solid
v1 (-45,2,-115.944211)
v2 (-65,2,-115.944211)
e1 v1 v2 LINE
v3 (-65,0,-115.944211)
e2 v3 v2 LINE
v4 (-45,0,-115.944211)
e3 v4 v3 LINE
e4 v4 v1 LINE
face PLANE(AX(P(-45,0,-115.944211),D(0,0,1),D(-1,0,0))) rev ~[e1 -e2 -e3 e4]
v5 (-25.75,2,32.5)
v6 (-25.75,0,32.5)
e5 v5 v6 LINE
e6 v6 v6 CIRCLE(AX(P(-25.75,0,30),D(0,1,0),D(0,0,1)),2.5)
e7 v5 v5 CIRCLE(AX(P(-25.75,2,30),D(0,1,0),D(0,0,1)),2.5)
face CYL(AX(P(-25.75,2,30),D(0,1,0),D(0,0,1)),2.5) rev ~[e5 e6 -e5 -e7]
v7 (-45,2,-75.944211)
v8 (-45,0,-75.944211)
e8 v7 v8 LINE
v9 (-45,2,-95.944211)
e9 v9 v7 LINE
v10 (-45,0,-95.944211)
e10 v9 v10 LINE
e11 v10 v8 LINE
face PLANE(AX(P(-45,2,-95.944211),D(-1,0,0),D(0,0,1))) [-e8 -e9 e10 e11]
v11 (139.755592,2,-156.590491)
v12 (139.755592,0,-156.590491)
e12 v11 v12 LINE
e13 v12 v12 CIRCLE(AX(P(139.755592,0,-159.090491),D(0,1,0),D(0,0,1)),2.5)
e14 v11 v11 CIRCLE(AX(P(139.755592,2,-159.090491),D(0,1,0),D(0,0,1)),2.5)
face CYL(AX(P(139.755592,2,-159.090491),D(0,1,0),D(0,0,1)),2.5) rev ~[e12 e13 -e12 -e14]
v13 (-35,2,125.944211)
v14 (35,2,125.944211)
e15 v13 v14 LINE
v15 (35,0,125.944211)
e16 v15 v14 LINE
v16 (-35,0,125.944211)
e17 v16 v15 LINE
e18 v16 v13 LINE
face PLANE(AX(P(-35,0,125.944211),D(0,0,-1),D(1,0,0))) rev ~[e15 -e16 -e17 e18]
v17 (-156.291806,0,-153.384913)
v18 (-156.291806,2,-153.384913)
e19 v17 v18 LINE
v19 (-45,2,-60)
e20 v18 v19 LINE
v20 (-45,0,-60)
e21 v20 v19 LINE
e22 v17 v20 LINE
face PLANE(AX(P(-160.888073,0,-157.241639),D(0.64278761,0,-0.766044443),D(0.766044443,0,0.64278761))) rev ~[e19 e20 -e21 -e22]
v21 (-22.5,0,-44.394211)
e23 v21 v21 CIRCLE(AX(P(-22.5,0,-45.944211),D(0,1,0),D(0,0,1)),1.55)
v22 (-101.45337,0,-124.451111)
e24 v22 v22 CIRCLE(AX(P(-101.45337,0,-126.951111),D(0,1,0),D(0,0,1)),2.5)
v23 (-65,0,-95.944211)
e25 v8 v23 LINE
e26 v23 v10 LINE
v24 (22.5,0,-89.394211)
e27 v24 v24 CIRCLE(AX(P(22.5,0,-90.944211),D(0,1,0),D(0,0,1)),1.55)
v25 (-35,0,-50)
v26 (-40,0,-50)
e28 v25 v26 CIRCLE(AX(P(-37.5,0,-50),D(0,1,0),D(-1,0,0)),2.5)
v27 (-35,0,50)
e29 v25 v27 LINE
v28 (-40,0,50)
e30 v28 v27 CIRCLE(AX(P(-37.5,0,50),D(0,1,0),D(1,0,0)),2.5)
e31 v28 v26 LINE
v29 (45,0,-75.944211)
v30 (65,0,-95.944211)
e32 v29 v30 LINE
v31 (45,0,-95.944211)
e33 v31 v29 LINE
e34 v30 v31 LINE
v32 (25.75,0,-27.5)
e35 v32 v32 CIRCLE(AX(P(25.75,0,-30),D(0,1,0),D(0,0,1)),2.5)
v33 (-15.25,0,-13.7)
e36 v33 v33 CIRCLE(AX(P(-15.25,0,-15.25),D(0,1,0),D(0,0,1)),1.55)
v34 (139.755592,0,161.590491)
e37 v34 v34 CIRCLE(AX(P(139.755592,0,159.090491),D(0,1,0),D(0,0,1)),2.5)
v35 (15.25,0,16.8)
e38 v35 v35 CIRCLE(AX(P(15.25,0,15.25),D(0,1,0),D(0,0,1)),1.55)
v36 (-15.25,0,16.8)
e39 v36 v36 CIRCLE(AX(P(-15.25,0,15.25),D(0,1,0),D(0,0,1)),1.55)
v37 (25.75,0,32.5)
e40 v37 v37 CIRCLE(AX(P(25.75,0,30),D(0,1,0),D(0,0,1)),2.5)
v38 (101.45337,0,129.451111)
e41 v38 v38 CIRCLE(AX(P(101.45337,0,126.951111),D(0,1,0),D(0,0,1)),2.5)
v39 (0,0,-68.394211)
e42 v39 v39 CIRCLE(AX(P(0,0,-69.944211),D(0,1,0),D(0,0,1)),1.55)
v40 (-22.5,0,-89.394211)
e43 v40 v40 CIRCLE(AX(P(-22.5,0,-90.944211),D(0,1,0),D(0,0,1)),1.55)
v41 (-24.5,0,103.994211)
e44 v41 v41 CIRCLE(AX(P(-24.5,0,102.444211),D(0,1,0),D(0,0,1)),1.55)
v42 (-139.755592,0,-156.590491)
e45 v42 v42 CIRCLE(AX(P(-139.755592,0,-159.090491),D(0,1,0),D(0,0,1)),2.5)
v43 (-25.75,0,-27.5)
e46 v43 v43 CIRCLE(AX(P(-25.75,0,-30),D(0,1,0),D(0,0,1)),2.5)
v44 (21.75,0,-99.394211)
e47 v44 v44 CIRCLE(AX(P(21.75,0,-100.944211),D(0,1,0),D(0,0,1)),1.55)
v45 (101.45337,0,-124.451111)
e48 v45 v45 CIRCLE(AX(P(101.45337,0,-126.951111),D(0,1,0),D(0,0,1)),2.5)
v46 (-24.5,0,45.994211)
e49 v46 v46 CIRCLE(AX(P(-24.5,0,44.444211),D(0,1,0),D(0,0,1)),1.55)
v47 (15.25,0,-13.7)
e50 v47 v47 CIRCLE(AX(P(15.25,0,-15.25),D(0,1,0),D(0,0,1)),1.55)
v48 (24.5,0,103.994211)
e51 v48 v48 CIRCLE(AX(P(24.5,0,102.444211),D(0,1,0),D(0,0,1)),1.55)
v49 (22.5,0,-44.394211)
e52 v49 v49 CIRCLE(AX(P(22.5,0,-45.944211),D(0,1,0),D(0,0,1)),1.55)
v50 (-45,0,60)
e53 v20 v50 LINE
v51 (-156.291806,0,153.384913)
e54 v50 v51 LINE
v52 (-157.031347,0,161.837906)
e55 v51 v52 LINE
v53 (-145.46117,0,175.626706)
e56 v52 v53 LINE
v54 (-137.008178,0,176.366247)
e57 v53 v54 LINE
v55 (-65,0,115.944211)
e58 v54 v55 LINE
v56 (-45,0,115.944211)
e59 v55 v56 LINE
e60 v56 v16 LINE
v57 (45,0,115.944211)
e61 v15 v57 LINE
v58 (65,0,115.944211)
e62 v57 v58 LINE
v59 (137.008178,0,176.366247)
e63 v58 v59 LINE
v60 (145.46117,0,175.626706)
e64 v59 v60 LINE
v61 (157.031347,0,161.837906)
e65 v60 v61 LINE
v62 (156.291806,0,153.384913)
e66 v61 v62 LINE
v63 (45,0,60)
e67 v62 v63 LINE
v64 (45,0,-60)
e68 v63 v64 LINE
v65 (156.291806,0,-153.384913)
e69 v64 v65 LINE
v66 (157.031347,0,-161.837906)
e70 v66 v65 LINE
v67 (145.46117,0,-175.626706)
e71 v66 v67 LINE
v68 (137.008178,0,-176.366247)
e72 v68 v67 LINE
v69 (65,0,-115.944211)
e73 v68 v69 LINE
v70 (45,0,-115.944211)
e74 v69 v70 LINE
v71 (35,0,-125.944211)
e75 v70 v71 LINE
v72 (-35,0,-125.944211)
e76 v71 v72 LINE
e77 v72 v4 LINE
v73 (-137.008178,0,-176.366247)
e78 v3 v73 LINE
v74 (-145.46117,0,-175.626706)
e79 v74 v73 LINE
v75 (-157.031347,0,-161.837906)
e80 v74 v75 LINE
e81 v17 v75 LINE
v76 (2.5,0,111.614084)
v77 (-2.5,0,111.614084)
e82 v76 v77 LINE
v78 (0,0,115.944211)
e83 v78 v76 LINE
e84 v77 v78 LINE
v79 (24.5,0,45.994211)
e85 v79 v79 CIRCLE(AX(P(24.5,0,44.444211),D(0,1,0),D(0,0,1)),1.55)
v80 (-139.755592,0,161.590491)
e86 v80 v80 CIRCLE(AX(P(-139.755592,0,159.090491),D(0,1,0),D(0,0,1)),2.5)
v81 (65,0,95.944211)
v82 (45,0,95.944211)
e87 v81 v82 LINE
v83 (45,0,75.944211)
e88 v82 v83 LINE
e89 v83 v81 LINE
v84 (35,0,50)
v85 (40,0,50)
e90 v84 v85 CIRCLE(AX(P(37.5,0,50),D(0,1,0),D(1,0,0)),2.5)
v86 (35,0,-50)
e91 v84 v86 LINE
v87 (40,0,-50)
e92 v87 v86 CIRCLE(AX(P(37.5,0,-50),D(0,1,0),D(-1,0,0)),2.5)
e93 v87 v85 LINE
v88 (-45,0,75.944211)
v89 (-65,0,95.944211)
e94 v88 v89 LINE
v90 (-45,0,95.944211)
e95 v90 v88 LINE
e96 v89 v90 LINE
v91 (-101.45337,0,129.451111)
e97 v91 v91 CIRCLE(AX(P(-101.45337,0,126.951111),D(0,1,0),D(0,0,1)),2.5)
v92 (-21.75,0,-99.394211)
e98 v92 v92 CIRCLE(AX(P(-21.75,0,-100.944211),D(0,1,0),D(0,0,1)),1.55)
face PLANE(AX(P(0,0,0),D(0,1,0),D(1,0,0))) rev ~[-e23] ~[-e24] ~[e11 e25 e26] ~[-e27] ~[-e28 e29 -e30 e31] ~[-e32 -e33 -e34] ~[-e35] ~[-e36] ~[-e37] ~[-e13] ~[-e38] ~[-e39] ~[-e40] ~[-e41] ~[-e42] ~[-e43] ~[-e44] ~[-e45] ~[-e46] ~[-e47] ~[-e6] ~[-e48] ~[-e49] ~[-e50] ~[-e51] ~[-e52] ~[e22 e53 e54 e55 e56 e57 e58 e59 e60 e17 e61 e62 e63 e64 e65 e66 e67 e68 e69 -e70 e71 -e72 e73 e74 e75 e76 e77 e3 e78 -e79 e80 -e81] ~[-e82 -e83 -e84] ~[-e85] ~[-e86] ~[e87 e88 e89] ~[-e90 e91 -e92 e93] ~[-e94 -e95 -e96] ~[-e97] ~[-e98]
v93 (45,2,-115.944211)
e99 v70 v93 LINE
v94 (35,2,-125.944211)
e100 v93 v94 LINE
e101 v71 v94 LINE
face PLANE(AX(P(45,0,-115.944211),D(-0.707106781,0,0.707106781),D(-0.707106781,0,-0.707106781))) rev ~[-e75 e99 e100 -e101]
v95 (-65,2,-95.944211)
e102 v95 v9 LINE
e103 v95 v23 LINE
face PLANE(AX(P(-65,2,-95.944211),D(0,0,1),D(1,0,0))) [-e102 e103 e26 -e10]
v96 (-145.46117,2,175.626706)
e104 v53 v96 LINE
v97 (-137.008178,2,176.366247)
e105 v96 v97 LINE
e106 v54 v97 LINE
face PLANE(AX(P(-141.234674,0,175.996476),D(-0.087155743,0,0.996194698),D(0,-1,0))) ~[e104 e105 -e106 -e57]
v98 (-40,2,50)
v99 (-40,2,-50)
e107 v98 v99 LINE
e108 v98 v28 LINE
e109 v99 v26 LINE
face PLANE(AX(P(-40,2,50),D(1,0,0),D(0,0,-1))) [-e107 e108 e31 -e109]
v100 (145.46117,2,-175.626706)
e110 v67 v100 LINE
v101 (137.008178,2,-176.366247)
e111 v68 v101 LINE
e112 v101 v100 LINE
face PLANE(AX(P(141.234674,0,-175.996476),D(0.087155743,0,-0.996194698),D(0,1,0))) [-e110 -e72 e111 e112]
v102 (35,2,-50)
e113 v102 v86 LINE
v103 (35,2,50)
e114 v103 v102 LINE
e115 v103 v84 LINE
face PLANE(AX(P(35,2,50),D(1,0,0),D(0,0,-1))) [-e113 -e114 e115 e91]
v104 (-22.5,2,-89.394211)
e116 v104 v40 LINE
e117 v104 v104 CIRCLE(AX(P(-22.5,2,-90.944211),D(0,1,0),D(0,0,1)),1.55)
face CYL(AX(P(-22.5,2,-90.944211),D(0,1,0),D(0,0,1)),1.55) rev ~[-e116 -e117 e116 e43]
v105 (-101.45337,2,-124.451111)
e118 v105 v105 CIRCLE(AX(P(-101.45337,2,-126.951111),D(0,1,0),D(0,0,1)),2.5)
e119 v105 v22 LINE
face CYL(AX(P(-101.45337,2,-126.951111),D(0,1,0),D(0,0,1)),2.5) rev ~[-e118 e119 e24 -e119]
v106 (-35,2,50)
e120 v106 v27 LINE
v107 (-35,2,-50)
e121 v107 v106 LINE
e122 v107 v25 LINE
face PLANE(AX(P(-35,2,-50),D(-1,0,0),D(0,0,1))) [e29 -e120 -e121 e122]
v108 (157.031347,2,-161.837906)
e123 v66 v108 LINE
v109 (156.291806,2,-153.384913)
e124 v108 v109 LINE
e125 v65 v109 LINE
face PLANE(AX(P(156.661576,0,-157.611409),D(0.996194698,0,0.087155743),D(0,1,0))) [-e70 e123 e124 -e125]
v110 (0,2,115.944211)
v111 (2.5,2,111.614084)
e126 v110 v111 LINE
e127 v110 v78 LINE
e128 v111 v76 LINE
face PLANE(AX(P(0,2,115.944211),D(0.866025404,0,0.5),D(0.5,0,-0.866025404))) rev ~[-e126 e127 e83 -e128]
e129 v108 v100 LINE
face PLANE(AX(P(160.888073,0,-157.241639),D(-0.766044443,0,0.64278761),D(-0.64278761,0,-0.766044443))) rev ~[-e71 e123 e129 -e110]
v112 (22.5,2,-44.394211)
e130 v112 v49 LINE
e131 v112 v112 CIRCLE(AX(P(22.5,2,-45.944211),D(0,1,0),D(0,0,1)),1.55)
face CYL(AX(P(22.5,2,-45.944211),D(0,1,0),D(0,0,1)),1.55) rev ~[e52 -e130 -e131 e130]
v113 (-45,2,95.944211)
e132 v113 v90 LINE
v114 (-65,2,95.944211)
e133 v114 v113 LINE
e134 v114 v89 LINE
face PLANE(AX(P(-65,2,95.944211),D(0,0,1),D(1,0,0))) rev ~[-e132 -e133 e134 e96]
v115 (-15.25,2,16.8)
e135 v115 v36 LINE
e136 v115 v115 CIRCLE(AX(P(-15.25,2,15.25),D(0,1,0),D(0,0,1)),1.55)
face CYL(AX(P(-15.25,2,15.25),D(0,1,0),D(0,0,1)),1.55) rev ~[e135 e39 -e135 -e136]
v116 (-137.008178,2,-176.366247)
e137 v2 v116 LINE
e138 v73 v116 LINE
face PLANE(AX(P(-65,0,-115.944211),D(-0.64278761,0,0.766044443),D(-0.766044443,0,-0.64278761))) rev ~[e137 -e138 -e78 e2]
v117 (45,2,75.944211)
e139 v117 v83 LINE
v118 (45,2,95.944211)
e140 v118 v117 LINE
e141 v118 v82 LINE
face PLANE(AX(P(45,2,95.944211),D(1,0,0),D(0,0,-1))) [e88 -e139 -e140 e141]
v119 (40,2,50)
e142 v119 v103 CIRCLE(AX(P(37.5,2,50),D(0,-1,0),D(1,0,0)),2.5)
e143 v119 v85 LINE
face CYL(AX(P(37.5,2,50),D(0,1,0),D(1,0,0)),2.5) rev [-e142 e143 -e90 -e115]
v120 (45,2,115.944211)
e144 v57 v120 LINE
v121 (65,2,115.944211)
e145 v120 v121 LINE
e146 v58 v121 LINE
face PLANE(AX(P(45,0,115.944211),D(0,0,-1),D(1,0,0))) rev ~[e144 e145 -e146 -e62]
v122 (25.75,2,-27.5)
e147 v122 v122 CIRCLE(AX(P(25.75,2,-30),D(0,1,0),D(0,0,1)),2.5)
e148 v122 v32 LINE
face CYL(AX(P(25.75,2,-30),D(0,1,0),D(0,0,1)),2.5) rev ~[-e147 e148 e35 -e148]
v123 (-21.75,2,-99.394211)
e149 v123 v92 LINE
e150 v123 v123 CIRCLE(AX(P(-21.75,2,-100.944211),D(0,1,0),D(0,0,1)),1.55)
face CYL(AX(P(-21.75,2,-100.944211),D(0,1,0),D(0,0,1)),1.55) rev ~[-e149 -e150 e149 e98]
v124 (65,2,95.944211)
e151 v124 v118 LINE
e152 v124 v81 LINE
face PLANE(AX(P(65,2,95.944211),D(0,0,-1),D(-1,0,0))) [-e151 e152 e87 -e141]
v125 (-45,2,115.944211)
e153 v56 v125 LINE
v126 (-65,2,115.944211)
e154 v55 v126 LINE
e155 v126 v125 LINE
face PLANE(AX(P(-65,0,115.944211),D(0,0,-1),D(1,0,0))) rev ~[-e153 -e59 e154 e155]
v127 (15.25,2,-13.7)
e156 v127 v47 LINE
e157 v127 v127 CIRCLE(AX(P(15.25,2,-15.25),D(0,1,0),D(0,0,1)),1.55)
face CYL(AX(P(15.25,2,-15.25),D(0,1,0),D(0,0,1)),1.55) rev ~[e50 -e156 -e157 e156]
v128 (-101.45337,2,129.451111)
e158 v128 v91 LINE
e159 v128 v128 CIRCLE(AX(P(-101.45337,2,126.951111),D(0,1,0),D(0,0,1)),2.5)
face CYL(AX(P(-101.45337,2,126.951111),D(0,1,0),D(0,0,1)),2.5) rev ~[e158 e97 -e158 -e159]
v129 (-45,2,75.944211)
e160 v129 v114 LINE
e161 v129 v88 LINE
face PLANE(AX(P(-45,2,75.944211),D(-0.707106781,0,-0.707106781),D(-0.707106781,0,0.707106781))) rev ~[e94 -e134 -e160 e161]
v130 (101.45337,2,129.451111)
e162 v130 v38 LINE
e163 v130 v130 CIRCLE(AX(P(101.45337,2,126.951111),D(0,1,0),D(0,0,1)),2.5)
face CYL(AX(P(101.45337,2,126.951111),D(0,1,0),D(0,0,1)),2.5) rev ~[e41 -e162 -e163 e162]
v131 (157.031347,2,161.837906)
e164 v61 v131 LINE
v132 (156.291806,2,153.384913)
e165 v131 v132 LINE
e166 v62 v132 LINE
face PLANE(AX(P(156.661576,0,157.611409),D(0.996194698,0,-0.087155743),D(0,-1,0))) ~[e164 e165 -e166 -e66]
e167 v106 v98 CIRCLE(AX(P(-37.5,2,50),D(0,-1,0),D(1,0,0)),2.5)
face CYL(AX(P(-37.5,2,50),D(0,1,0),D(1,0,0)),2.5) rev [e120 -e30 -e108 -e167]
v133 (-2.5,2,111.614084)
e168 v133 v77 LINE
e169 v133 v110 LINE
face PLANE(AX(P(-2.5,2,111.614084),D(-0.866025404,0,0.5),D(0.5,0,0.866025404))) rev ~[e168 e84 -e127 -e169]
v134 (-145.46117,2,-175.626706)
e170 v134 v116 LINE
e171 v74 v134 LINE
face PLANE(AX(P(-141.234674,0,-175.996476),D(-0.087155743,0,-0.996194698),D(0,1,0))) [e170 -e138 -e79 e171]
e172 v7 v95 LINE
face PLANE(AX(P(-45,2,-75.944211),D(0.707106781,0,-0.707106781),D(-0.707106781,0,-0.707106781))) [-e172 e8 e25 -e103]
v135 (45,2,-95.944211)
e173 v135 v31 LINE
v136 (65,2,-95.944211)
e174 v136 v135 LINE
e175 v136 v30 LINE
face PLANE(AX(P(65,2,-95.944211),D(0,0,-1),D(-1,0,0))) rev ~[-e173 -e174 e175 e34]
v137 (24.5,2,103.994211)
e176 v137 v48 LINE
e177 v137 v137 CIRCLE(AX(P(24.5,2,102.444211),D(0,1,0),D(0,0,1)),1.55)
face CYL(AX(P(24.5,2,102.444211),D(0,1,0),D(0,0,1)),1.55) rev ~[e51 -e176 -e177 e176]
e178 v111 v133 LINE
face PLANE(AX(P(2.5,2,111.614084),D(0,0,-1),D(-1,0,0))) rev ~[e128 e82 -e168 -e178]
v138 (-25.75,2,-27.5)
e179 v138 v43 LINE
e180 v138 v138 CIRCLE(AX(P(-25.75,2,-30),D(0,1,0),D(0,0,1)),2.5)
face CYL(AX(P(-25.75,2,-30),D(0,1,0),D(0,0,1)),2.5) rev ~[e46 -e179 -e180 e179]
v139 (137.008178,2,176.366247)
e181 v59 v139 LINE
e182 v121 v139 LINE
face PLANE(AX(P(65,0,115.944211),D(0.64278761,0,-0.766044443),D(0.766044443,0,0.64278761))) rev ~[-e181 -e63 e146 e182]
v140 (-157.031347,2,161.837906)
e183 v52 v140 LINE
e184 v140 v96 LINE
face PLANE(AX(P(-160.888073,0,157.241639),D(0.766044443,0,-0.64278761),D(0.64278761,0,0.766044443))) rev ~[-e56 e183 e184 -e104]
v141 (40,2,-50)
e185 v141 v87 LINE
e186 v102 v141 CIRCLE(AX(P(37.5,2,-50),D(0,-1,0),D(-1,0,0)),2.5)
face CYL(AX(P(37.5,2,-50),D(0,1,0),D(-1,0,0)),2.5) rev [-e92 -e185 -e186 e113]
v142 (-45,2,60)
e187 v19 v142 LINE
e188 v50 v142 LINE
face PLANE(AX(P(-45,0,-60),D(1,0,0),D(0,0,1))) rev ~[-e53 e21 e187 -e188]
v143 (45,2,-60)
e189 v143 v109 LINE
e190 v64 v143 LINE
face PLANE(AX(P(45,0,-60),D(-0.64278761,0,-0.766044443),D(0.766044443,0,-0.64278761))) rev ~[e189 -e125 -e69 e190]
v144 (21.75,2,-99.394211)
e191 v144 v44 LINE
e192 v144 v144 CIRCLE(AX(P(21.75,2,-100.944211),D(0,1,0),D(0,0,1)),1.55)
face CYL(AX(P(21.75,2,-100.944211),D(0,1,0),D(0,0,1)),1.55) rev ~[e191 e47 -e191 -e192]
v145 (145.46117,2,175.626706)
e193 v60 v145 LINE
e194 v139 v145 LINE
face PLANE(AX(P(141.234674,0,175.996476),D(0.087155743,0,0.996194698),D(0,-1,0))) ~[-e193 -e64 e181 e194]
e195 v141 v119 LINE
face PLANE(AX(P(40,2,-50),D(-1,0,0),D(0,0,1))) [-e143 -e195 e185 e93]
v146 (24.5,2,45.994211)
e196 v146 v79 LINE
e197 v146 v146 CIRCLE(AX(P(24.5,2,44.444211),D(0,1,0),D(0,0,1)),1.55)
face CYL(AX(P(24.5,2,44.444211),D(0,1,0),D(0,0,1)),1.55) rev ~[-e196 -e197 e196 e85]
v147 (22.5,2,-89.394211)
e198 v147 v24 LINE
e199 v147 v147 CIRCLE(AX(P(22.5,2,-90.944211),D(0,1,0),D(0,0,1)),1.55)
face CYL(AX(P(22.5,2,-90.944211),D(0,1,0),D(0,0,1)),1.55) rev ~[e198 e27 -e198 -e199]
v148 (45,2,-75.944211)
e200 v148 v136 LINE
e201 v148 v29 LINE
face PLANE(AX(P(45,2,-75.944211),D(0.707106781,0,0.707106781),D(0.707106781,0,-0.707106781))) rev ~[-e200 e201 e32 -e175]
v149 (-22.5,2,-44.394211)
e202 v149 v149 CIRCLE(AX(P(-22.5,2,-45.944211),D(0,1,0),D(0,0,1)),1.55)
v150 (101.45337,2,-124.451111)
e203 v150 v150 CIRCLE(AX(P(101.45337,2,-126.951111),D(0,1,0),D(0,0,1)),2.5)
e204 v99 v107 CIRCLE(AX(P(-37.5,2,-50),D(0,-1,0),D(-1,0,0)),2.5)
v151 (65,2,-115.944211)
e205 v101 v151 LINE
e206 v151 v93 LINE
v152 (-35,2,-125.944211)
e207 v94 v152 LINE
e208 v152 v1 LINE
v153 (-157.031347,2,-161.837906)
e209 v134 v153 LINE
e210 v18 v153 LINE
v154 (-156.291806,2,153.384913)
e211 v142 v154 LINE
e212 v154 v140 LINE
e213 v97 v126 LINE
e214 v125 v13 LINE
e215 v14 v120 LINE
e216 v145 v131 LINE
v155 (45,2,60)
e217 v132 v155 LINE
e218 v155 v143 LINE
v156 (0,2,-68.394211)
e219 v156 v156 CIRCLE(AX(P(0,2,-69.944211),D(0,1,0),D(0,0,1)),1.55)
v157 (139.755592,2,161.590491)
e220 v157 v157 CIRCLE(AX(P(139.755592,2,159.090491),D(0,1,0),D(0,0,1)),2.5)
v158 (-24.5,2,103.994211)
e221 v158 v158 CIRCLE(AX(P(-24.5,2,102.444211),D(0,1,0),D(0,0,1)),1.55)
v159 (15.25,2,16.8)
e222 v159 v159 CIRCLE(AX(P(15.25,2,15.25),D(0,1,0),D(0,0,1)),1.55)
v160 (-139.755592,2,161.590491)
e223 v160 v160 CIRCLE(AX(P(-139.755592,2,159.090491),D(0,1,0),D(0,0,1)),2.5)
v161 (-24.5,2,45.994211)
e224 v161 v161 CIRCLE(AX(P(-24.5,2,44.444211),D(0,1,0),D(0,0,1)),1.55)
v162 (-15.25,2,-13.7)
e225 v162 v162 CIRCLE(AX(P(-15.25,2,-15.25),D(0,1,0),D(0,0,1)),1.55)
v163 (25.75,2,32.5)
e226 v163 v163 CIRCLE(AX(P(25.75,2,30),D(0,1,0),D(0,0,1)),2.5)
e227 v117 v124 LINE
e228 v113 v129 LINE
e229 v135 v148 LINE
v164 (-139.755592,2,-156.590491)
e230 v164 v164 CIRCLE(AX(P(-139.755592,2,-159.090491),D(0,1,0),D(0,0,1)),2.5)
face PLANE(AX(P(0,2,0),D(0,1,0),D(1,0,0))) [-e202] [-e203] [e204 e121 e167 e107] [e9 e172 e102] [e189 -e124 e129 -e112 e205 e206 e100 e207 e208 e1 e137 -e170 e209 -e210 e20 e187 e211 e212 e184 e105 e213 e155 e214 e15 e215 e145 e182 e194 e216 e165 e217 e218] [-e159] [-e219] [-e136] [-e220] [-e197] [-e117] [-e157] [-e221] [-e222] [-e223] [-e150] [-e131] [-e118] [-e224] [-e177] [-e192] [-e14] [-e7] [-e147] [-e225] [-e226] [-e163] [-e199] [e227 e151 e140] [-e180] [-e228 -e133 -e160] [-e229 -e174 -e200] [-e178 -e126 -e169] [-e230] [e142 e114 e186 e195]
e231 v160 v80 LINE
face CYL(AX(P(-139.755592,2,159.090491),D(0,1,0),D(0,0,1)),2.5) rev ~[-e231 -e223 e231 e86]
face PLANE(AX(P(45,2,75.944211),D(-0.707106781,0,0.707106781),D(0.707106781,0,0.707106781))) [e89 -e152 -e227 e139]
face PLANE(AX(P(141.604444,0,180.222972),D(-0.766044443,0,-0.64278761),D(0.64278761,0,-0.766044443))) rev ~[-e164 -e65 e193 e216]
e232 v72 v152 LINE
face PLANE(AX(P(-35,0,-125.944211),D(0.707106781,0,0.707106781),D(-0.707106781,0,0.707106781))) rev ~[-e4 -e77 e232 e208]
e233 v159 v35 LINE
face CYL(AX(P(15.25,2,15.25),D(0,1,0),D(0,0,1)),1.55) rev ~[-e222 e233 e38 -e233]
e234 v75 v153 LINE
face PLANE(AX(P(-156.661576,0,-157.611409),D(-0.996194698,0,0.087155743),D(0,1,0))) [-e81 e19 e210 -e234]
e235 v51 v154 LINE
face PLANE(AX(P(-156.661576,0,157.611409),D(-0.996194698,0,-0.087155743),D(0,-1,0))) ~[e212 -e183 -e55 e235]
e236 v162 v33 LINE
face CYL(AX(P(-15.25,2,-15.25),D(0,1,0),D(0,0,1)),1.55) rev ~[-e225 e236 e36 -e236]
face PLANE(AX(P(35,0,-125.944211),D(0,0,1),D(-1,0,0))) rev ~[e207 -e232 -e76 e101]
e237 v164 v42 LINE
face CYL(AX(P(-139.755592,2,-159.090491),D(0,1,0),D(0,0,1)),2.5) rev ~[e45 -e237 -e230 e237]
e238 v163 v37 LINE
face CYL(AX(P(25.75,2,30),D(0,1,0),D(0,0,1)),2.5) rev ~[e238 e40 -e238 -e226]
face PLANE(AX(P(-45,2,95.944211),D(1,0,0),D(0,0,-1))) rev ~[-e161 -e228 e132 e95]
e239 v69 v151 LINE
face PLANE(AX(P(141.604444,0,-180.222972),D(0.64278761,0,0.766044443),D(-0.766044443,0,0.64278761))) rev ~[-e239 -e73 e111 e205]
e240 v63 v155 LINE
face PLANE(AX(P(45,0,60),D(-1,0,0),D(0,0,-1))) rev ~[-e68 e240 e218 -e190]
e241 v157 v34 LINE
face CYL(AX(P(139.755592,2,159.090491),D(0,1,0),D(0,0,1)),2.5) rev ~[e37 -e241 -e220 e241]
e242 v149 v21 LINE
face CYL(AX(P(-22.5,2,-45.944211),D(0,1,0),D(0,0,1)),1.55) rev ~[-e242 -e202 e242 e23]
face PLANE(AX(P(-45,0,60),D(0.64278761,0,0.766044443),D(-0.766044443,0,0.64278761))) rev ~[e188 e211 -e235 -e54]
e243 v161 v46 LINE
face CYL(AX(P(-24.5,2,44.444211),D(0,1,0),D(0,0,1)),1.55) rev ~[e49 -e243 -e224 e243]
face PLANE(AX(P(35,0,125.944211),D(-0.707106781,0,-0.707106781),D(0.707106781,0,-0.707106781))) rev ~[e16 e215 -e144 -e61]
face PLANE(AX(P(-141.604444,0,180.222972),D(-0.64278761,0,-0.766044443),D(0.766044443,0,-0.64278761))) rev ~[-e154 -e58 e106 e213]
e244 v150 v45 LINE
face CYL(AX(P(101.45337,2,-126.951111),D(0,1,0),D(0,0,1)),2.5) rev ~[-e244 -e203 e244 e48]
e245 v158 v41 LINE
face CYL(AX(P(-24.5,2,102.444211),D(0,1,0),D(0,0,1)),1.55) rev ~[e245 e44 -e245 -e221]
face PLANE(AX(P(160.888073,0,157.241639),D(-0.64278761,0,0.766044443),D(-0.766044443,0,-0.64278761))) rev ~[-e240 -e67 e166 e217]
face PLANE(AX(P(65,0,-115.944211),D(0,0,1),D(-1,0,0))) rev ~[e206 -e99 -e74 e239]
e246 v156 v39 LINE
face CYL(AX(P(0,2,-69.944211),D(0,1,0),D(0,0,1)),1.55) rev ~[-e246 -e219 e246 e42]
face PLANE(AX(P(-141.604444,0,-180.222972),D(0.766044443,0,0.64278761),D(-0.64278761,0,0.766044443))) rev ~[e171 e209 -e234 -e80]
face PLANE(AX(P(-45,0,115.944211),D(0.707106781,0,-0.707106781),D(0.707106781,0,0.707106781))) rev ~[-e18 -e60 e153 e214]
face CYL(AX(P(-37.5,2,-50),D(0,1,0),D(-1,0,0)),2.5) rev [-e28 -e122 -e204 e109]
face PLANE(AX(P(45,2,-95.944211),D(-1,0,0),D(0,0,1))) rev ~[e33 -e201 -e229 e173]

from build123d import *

# Parameters (mm, degrees)
Y_KSEKLIK_EKSTR_ZYON2_DEPTH = 2
IZIM3_R                     = 1.55
KES_EKSTR_ZYON1_DEPTH       = 2
KES_EKSTR_ZYON2_DEPTH       = 2
KES_EKSTR_ZYON3_DEPTH       = 20
PAH1_SIZE                   = 6
IZIM6_R                     = 2.5
KES_EKSTR_ZYON4_DEPTH       = 20
IZIM7_R                     = 1.55
KES_EKSTR_ZYON6_DEPTH       = 20
IZIM8_R                     = 1.55
KES_EKSTR_ZYON7_DEPTH       = 2
KES_EKSTR_ZYON8_DEPTH       = 10
IZIM10_R                    = 2.5
KES_EKSTR_ZYON9_DEPTH       = 10


with BuildPart() as part:
    # Çizim2 → Yükseklik-Ekstrüzyon2 (new body)
    with BuildSketch(Plane(origin=(0, 0, 0), x_dir=(1, 0, 0), z_dir=(0, 1, 0))):
        Polygon((-160.888072602, 157.241638979), (-45, 60), (-45, -60), (-160.888072602, -157.241638979), (-141.604444312, -180.222972272), (-65, -115.944211304), (-45, -115.944211304), (-35, -125.944211304), (35, -125.944211304), (45, -115.944211304), (65, -115.944211304), (141.604444312, -180.222972272), (160.888072602, -157.241638979), (45, -60), (45, 60), (160.888072602, 157.241638979), (141.604444312, 180.222972272), (65, 115.944211304), (45, 115.944211304), (35, 125.944211304), (-35, 125.944211304), (-45, 115.944211304), (-65, 115.944211304), (-141.604444312, 180.222972272), align=None)
    extrude(amount=Y_KSEKLIK_EKSTR_ZYON2_DEPTH)

    # Çizim3 → Kes-Ekstrüzyon1 (cut)
    with BuildSketch(Plane(origin=(0, 2, 0), x_dir=(1, 0, 0), z_dir=(0, 1, 0))):
        with Locations(Location((-22.5, 90.944211304, 0), (0, 0, 270))):
            Circle(IZIM3_R)
        with Locations(Location((22.5, 90.944211304, 0), (0, 0, 270))):
            Circle(IZIM3_R)
        with Locations(Location((-22.5, 45.944211304, 0), (0, 0, 270))):
            Circle(IZIM3_R)
        with Locations(Location((22.5, 45.944211304, 0), (0, 0, 270))):
            Circle(IZIM3_R)
        with Locations(Location((-15.25, 15.25, 0), (0, 0, 270))):
            Circle(IZIM3_R)
        with Locations(Location((15.25, 15.25, 0), (0, 0, 270))):
            Circle(IZIM3_R)
        with Locations(Location((15.25, -15.25, 0), (0, 0, 270))):
            Circle(IZIM3_R)
        with Locations(Location((-15.25, -15.25, 0), (0, 0, 270))):
            Circle(IZIM3_R)
    extrude(amount=-KES_EKSTR_ZYON1_DEPTH, mode=Mode.SUBTRACT)

    # Çizim4 → Kes-Ekstrüzyon2 (cut)
    with BuildSketch(Plane(origin=(0, 2, 0), x_dir=(1, 0, 0), z_dir=(0, 1, 0))):
        Polygon((-2.5, -111.614084285), (0, -115.944211304), (2.5, -111.614084285), align=None)
    extrude(amount=-KES_EKSTR_ZYON2_DEPTH, mode=Mode.SUBTRACT)

    # Çizim5 → Kes-Ekstrüzyon3 (cut)
    with BuildSketch(Plane(origin=(0, 2, 0), x_dir=(1, 0, 0), z_dir=(0, 1, 0))):
        Polygon((-65, 95.944211304), (-45, 95.944211304), (-45, 75.944211304), align=None)
        Polygon((45, 75.944211304), (65, 95.944211304), (45, 95.944211304), align=None)
        Polygon((65, -95.944211304), (45, -95.944211304), (45, -75.944211304), align=None)
        Polygon((-45, -75.944211304), (-65, -95.944211304), (-45, -95.944211304), align=None)
    extrude(amount=-KES_EKSTR_ZYON3_DEPTH, mode=Mode.SUBTRACT)

    # Pah1
    pah1_edges = [part.edges().sort_by_distance(p)[0] for p in [
        (-160.888072602, 1, -157.241638979),
        (-141.604444312, 1, -180.222972272),
        (141.604444312, 1, -180.222972272),
        (160.888072602, 1, -157.241638979),
        (160.888072602, 1, 157.241638979),
        (141.604444312, 1, 180.222972272),
        (-141.604444312, 1, 180.222972272),
        (-160.888072602, 1, 157.241638979),
    ]]
    chamfer(pah1_edges, length=PAH1_SIZE)

    # Çizim6 → Kes-Ekstrüzyon4 (cut)
    with BuildSketch(Plane(origin=(0, 2, 0), x_dir=(1, 0, 0), z_dir=(0, 1, 0))):
        with Locations(Location((-139.75559181, 159.09049148, 0), (0, 0, 270))):
            Circle(IZIM6_R)
        with Locations(Location((-101.453369654, 126.951110996, 0), (0, 0, 270))):
            Circle(IZIM6_R)
        with Locations(Location((139.75559181, 159.09049148, 0), (0, 0, 270))):
            Circle(IZIM6_R)
        with Locations(Location((101.453369654, 126.951110996, 0), (0, 0, 270))):
            Circle(IZIM6_R)
        with Locations(Location((-139.75559181, -159.09049148, 0), (0, 0, 270))):
            Circle(IZIM6_R)
        with Locations(Location((-101.453369654, -126.951110996, 0), (0, 0, 270))):
            Circle(IZIM6_R)
        with Locations(Location((101.453369654, -126.951110996, 0), (0, 0, 270))):
            Circle(IZIM6_R)
        with Locations(Location((139.75559181, -159.09049148, 0), (0, 0, 270))):
            Circle(IZIM6_R)
    extrude(amount=-KES_EKSTR_ZYON4_DEPTH, mode=Mode.SUBTRACT)

    # Çizim7 → Kes-Ekstrüzyon6 (cut)
    with BuildSketch(Plane(origin=(0, 2, 0), x_dir=(1, 0, 0), z_dir=(0, 1, 0))):
        with Locations(Location((-24.5, -44.444211304, 0), (0, 0, 270))):
            Circle(IZIM7_R)
        with Locations(Location((-24.5, -102.444211304, 0), (0, 0, 270))):
            Circle(IZIM7_R)
        with Locations(Location((24.5, -102.444211304, 0), (0, 0, 270))):
            Circle(IZIM7_R)
        with Locations(Location((24.5, -44.444211304, 0), (0, 0, 270))):
            Circle(IZIM7_R)
    extrude(amount=-KES_EKSTR_ZYON6_DEPTH, mode=Mode.SUBTRACT)

    # Çizim8 → Kes-Ekstrüzyon7 (cut)
    with BuildSketch(Plane(origin=(0, 2, 0), x_dir=(1, 0, 0), z_dir=(0, 1, 0))):
        with Locations(Location((0, 69.944211304, 0), (0, 0, 270))):
            Circle(IZIM8_R)
        with Locations(Location((-21.75, 100.944211304, 0), (0, 0, 270))):
            Circle(IZIM8_R)
        with Locations(Location((21.75, 100.944211304, 0), (0, 0, 270))):
            Circle(IZIM8_R)
    extrude(amount=-KES_EKSTR_ZYON7_DEPTH, mode=Mode.SUBTRACT)

    # Çizim9 → Kes-Ekstrüzyon8 (cut)
    with BuildSketch(Plane(origin=(0, 2, 0), x_dir=(1, 0, 0), z_dir=(0, 1, 0))):
        with BuildLine():
            Line((-35, 50), (-35, -50))
            ThreePointArc((-35, -50), (-37.5, -52.5), (-40, -50))
            Line((-40, -50), (-40, 50))
            ThreePointArc((-40, 50), (-37.5, 52.5), (-35, 50))
        make_face()
        with BuildLine():
            Line((40, 50), (40, -50))
            ThreePointArc((40, -50), (37.5, -52.5), (35, -50))
            Line((35, -50), (35, 50))
            ThreePointArc((35, 50), (37.5, 52.5), (40, 50))
        make_face()
    extrude(amount=-KES_EKSTR_ZYON8_DEPTH, mode=Mode.SUBTRACT)

    # Çizim10 → Kes-Ekstrüzyon9 (cut)
    with BuildSketch(Plane(origin=(0, 2, 0), x_dir=(1, 0, 0), z_dir=(0, 1, 0))):
        with Locations(Location((25.75, -30, 0), (0, 0, 270))):
            Circle(IZIM10_R)
        with Locations(Location((-25.75, -30, 0), (0, 0, 270))):
            Circle(IZIM10_R)
        with Locations(Location((25.75, 30, 0), (0, 0, 270))):
            Circle(IZIM10_R)
        with Locations(Location((-25.75, 30, 0), (0, 0, 270))):
            Circle(IZIM10_R)
    extrude(amount=-KES_EKSTR_ZYON9_DEPTH, mode=Mode.SUBTRACT)


solid = part.part
